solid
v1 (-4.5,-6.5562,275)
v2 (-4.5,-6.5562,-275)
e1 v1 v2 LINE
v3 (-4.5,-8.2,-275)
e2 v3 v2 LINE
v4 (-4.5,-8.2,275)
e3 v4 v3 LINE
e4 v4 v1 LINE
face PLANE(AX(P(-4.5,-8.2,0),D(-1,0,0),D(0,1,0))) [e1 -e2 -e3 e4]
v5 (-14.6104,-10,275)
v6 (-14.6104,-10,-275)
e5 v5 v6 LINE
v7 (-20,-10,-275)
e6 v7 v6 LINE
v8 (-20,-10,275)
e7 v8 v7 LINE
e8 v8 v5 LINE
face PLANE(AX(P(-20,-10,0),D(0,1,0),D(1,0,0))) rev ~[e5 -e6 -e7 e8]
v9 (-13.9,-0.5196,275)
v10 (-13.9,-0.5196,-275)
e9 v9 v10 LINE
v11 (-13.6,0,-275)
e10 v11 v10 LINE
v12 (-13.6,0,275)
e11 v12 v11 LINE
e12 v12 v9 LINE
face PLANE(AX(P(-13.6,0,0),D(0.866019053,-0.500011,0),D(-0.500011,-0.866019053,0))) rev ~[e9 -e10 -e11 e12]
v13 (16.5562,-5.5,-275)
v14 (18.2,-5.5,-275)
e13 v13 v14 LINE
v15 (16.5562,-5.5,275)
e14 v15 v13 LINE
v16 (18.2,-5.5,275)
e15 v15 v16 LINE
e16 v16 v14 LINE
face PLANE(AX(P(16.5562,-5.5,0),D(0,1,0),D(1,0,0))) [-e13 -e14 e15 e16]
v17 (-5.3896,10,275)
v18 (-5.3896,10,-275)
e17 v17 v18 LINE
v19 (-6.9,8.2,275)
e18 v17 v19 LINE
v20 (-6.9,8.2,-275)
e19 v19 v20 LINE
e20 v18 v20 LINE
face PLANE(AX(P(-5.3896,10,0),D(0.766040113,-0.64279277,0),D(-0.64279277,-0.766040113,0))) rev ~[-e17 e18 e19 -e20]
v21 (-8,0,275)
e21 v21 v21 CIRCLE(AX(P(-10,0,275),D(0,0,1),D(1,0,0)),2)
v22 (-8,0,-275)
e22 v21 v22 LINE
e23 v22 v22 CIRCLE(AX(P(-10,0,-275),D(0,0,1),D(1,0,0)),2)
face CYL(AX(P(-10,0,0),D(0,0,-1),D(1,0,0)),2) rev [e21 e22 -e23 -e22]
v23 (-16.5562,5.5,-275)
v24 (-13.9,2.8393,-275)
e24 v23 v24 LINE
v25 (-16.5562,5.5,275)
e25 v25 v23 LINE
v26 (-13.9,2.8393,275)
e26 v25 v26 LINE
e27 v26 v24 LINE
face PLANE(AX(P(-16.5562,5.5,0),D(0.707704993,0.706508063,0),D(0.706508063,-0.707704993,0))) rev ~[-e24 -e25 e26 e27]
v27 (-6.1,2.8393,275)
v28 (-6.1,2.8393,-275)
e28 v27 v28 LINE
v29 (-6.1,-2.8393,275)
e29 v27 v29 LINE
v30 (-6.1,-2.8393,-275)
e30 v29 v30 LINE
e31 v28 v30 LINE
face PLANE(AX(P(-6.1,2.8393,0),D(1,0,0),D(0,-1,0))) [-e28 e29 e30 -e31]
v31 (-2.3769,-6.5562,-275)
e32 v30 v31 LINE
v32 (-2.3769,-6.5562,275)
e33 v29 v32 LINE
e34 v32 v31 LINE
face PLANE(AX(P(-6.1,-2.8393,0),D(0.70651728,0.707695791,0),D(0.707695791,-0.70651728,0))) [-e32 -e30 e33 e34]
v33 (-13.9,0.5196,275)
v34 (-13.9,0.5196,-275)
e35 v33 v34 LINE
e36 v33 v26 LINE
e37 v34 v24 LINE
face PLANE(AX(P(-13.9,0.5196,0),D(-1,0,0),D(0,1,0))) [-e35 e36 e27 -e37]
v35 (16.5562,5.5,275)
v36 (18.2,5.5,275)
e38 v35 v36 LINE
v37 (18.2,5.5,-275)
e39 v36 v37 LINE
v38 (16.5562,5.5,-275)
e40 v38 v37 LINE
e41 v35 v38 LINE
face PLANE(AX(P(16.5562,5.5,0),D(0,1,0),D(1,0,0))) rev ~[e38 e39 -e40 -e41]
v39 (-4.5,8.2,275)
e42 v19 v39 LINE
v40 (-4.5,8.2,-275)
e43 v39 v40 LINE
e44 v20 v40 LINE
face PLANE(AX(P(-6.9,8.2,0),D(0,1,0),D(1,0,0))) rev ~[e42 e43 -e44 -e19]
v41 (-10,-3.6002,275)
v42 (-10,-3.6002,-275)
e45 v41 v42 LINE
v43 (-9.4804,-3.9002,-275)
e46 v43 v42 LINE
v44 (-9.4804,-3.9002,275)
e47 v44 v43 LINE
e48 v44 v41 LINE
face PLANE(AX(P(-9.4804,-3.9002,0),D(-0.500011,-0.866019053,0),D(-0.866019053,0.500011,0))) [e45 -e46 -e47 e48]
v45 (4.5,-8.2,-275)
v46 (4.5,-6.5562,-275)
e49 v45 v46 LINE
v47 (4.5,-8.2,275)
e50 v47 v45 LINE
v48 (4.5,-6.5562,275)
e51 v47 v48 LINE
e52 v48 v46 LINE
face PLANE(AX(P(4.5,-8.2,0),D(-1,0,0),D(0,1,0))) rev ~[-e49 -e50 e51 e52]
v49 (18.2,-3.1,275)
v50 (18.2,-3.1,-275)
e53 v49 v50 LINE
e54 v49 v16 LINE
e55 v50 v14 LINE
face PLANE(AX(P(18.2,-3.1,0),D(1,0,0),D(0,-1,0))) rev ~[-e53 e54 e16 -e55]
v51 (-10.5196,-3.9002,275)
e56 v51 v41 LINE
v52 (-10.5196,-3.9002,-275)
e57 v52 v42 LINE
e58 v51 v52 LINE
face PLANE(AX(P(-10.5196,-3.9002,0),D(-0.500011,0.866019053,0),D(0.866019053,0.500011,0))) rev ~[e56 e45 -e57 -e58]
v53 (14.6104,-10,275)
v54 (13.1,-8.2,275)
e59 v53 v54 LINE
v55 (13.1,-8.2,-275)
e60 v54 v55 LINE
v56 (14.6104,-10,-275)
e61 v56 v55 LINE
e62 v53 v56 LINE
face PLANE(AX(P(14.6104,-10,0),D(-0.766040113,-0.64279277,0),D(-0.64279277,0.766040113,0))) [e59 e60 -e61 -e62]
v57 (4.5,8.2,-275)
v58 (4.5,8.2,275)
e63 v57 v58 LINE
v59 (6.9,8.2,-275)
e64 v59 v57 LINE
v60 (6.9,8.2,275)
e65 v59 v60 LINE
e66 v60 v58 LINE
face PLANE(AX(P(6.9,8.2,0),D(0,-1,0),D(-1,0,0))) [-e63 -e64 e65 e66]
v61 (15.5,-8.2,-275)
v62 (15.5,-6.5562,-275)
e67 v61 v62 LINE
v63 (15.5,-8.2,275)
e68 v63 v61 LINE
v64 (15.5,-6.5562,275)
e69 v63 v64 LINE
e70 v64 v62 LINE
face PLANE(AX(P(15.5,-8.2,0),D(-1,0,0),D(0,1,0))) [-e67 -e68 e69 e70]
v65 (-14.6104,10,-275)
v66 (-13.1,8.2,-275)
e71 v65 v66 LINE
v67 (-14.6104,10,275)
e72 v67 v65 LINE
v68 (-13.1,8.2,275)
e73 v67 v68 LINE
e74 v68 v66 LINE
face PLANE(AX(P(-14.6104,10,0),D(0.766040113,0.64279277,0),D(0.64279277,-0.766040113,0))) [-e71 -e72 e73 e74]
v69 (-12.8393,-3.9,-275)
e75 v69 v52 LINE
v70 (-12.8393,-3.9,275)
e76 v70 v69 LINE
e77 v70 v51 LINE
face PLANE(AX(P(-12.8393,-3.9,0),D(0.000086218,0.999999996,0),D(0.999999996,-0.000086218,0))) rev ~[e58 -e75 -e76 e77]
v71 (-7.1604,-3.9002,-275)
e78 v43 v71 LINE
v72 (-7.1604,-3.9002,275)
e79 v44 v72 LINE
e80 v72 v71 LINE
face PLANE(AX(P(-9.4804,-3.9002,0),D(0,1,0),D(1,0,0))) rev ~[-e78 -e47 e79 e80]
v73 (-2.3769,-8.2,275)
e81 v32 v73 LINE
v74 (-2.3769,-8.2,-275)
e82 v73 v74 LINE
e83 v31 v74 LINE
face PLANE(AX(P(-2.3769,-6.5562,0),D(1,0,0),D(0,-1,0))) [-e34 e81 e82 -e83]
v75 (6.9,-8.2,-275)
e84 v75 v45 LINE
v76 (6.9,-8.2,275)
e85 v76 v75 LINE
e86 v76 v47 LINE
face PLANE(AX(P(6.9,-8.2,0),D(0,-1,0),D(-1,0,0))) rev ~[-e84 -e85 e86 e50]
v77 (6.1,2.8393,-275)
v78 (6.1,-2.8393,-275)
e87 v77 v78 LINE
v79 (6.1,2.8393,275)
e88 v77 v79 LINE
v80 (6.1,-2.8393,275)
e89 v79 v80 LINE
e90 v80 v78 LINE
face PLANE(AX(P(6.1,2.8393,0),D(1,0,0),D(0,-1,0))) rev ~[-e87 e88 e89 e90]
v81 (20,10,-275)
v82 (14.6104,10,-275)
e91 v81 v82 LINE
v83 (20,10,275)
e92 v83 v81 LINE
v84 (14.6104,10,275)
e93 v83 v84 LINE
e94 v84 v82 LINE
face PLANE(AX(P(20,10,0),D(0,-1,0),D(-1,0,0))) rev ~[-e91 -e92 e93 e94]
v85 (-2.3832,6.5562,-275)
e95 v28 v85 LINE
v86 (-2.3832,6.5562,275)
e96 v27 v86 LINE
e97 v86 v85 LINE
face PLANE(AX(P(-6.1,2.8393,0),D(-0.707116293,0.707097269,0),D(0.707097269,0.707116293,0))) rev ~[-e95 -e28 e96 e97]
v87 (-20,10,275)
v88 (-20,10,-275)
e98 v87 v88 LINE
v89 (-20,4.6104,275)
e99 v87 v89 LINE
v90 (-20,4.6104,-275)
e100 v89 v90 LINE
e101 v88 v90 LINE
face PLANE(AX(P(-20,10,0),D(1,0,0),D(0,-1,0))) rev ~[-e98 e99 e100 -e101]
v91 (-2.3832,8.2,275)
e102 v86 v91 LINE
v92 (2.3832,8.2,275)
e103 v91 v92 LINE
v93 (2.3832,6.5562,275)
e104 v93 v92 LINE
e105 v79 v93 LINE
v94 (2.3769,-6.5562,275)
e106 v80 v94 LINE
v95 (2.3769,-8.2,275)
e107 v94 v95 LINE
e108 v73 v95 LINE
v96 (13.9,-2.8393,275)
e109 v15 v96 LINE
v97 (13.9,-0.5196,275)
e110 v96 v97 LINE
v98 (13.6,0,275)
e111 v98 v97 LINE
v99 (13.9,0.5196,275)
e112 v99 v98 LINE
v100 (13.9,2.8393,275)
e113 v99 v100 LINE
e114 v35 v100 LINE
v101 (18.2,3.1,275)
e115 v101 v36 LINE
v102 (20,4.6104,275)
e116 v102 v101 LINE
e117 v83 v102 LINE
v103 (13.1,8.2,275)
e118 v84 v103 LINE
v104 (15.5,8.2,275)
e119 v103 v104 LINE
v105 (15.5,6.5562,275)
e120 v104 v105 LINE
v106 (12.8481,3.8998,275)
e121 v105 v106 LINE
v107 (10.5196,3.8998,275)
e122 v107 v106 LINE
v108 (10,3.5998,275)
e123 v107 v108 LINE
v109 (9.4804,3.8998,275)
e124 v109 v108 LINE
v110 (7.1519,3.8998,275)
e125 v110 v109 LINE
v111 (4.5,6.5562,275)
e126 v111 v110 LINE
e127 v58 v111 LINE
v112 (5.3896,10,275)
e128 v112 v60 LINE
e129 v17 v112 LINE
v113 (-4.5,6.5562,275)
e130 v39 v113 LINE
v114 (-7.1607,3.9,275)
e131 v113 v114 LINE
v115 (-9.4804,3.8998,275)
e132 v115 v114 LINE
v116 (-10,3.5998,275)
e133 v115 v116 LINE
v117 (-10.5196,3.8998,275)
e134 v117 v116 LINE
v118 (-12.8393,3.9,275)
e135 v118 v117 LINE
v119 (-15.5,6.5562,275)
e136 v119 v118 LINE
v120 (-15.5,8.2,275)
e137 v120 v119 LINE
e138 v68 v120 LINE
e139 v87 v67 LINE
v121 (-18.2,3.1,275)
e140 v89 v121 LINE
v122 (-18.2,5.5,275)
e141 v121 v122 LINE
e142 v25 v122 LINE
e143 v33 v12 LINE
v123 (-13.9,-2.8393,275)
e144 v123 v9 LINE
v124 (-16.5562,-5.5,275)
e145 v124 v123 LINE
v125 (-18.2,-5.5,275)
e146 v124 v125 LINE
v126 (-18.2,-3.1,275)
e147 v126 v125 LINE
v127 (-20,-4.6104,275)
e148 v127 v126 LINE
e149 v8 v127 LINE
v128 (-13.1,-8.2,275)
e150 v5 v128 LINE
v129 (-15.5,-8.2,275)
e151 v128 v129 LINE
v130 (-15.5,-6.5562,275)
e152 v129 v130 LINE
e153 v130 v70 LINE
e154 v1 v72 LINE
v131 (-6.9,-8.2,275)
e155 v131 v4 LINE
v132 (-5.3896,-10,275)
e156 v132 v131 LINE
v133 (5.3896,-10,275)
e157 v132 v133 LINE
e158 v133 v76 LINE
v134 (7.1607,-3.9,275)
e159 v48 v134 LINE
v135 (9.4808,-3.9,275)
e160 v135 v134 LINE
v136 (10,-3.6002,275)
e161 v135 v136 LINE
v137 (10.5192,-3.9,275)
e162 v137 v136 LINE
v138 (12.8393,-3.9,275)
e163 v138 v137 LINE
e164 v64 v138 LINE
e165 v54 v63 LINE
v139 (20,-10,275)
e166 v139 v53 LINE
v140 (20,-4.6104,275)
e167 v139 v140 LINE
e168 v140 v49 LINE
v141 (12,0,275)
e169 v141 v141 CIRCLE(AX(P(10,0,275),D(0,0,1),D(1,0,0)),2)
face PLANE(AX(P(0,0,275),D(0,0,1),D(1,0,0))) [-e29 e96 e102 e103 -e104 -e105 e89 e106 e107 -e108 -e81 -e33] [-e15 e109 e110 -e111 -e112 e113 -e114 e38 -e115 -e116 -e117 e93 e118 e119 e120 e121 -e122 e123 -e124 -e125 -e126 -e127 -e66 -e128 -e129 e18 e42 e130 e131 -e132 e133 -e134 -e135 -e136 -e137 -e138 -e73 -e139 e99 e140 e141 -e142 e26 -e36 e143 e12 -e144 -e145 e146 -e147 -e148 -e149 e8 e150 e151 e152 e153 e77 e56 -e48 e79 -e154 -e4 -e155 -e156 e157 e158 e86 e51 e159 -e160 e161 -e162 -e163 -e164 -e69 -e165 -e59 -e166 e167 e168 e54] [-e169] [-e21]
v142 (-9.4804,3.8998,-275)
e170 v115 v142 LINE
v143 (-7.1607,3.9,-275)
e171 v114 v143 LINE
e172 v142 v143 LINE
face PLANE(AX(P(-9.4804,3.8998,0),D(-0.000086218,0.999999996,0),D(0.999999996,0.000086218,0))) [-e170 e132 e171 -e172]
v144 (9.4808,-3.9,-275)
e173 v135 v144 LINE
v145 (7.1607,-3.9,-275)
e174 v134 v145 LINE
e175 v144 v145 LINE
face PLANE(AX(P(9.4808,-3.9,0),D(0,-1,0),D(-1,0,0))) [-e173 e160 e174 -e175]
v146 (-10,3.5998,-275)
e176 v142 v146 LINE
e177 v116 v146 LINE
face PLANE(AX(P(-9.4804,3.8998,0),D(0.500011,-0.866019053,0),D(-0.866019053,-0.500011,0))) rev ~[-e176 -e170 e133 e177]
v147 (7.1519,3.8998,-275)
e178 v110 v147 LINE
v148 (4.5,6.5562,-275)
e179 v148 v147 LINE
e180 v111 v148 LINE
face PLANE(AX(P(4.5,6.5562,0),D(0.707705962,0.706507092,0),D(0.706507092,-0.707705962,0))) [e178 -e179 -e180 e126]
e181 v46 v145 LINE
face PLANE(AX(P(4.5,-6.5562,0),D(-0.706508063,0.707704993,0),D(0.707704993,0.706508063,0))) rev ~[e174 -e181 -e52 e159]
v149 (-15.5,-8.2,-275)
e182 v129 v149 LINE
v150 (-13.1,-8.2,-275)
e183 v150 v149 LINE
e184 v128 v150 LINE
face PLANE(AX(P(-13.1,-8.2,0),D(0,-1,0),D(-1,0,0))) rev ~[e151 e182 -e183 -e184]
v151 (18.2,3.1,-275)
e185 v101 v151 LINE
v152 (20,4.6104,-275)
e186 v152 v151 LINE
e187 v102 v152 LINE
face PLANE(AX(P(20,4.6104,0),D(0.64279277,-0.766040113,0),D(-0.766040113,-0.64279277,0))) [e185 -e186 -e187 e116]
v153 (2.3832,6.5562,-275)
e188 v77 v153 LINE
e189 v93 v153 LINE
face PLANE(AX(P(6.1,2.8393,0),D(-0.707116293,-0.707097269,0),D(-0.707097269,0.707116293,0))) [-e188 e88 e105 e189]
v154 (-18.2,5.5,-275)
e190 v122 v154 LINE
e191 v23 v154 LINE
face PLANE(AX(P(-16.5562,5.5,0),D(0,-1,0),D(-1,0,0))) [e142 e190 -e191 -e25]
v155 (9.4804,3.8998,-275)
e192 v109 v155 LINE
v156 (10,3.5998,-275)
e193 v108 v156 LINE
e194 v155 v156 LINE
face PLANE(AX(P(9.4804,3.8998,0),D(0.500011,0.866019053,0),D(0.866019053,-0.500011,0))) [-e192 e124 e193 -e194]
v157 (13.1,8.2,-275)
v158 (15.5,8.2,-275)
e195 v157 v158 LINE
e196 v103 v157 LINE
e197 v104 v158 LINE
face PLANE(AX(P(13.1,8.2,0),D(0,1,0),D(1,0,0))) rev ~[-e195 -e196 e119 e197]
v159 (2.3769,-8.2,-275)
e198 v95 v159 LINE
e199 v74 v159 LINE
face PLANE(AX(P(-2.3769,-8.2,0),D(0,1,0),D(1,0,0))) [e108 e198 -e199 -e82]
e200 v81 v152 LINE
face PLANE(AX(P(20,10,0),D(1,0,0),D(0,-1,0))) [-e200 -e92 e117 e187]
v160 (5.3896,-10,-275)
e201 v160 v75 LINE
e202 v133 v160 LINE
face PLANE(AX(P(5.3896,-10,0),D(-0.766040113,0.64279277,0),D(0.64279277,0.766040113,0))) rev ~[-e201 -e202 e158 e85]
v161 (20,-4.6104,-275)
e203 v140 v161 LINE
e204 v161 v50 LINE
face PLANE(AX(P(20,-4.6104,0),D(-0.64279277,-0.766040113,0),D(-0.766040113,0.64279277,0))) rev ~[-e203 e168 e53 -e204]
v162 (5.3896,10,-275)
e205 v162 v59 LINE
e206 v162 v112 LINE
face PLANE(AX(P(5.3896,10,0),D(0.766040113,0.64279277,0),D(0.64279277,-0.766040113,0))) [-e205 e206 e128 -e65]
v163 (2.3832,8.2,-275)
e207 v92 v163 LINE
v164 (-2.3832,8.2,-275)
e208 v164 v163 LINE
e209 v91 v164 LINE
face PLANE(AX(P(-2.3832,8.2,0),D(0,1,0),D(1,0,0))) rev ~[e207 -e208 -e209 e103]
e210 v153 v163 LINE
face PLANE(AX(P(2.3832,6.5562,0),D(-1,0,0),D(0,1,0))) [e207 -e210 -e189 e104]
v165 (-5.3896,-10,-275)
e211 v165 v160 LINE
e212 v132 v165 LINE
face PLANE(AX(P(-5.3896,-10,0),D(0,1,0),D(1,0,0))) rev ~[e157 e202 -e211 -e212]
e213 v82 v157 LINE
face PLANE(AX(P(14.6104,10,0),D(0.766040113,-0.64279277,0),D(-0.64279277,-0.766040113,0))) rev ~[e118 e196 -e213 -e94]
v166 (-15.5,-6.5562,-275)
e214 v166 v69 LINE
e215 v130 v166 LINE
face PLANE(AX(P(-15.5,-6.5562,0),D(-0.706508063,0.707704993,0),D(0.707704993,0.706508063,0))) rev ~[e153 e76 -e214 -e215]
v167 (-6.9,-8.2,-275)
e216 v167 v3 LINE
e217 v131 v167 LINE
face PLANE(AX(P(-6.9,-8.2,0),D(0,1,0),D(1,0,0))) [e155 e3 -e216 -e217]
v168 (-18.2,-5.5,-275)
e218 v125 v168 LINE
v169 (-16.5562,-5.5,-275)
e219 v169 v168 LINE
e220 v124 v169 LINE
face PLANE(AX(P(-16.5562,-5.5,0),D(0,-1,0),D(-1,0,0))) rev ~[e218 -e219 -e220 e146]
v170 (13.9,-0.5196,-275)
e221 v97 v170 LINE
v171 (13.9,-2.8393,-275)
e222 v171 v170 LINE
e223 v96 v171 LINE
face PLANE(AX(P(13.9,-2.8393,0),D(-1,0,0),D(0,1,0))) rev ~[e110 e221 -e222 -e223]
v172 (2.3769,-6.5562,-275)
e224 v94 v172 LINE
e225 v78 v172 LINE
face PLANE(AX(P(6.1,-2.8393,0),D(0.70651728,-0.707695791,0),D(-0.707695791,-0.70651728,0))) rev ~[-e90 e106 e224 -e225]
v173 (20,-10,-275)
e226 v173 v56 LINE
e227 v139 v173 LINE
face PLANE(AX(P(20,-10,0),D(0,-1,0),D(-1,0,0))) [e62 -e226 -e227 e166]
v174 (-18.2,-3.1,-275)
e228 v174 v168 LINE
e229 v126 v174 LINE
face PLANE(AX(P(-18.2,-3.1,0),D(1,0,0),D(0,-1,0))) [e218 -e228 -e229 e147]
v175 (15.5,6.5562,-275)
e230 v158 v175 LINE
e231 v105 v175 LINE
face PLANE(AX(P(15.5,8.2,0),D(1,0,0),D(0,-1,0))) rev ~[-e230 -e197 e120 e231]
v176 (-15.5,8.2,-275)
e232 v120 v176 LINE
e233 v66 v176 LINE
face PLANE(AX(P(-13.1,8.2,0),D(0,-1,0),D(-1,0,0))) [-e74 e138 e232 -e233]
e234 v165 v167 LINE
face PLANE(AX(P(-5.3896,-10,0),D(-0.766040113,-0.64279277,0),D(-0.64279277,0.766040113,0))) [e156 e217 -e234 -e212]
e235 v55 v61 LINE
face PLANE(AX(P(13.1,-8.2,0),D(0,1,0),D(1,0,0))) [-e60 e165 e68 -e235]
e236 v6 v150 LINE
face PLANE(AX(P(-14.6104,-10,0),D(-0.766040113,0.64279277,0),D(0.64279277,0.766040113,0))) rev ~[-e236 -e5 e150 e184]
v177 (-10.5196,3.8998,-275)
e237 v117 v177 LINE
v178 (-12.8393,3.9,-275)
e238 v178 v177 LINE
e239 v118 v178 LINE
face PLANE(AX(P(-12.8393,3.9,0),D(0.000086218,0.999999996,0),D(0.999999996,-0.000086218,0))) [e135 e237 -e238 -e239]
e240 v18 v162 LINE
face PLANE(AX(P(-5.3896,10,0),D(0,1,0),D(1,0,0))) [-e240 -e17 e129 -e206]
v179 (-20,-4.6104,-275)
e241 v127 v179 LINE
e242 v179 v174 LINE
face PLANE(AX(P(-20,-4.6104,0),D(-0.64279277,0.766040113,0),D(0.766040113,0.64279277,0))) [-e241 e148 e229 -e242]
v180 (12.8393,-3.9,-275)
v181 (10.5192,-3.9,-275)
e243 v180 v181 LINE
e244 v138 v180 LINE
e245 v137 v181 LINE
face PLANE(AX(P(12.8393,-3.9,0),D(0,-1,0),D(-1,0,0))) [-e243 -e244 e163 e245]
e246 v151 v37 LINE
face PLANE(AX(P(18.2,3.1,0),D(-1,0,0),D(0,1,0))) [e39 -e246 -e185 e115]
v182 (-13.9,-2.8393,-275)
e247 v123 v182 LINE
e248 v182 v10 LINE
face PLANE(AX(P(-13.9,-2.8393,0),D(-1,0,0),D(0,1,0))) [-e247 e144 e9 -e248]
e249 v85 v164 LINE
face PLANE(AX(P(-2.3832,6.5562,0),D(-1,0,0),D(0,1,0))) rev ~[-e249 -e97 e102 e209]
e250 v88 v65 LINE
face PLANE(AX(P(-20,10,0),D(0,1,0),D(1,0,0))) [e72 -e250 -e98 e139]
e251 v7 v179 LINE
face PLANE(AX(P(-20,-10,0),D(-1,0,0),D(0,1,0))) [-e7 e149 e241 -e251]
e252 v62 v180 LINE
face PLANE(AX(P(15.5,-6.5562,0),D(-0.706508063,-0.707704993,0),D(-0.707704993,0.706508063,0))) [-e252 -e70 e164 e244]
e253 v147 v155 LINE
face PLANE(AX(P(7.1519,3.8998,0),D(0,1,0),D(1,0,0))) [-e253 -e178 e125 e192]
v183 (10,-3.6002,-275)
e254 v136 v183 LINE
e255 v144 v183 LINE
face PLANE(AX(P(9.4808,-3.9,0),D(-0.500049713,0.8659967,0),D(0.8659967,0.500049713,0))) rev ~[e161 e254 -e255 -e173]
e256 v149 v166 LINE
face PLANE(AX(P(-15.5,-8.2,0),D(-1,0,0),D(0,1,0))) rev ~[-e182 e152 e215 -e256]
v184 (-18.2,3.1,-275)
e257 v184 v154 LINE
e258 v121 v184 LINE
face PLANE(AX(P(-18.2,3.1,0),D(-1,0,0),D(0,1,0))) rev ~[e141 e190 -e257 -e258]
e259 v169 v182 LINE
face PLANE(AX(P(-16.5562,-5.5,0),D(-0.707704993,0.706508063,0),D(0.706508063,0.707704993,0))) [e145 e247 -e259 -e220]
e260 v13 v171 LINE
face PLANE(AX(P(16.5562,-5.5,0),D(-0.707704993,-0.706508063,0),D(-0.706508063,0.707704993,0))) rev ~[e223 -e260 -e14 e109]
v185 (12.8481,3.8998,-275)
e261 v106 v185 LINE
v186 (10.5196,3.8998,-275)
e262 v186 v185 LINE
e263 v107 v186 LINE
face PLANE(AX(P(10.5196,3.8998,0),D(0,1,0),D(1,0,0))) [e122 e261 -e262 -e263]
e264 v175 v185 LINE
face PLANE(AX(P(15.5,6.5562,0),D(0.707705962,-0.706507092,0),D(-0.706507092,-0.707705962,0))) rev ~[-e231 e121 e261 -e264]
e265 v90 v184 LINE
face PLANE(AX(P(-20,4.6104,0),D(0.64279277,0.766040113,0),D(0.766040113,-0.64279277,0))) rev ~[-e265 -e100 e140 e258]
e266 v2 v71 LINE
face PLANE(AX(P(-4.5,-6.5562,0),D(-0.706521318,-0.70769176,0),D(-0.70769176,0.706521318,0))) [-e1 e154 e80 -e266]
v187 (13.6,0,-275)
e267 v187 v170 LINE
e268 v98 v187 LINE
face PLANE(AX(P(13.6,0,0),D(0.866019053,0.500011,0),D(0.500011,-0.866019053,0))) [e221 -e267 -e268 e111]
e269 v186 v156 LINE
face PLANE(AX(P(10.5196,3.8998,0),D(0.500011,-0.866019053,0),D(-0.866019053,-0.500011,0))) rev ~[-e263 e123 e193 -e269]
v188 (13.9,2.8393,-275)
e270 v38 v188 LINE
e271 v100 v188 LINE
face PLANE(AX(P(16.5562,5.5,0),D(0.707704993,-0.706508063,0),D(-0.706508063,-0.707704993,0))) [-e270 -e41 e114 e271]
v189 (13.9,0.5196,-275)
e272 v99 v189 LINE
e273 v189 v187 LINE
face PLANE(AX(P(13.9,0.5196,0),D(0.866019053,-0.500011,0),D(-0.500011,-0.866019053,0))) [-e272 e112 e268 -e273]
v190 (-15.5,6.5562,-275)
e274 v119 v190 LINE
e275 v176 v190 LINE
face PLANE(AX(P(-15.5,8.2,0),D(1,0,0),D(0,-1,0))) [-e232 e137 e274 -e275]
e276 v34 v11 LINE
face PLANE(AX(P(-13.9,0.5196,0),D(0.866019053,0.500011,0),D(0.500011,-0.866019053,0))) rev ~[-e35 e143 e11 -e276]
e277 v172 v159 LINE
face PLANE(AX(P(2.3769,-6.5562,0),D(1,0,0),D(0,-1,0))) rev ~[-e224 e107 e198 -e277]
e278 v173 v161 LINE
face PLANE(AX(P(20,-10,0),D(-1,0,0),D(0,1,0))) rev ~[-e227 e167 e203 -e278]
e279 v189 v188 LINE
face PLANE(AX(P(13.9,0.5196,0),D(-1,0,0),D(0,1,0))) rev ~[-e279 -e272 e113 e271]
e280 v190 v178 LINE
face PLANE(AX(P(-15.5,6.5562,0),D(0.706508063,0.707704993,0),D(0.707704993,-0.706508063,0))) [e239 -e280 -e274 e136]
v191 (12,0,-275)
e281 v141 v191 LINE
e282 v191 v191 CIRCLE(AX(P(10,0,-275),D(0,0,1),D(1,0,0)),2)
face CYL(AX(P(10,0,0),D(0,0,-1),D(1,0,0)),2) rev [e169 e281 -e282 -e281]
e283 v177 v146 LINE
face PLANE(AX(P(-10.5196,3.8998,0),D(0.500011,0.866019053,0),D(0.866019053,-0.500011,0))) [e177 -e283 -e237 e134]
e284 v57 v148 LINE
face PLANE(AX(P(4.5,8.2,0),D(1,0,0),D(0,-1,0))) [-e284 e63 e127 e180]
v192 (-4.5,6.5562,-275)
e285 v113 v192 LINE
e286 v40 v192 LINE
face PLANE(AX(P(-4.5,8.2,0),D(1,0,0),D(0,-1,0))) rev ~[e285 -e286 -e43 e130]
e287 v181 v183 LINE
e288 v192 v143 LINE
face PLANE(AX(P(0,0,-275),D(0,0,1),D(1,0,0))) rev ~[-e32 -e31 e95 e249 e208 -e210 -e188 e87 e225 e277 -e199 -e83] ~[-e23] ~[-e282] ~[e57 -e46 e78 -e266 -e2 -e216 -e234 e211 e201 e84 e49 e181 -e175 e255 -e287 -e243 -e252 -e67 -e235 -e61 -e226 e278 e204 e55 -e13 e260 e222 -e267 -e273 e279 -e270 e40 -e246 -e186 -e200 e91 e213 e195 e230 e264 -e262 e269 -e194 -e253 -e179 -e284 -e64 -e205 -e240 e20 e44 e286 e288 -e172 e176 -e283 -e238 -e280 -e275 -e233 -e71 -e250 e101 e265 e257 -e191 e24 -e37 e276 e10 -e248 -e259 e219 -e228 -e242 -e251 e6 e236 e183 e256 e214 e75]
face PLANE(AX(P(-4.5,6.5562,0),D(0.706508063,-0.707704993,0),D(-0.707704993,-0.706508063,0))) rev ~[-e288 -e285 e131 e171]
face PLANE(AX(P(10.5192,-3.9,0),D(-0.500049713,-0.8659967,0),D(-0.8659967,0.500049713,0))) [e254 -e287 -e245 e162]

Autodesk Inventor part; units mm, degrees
ref_plane "YZ Plane" through (0, 0, 0) normal (1, 0, 0) x (0, 1, 0)
ref_plane "XZ Plane" through (0, 0, 0) normal (0, 1, 0) x (-1, 0, 0)
ref_plane "XY Plane" through (0, 0, 0) normal (0, 0, 1) x (1, 0, 0)
sketch "Sketch1" plane through (0, 0, 0) normal (0, 0, 1) x (1, 0, 0)
  line L0 (4.5, 8.2) -> (4.5, 6.5562)
  line L1 (6.9, 8.2) -> (4.5, 8.2)
  line L2 (5.3896, 10) -> (6.9, 8.2)
  line L3 (-5.3896, 10) -> (5.3896, 10)
  line L4 (-5.3896, 10) -> (-6.9, 8.2)
  line L5 (-6.9, 8.2) -> (-4.5, 8.2)
  line L6 (-4.5, 8.2) -> (-4.5, 6.5562)
  line L7 (-4.5, 6.5562) -> (-7.1607, 3.9)
  line L8 (-9.4804, 3.8998) -> (-7.1607, 3.9)
  line L9 (-9.4804, 3.8998) -> (-10, 3.5998)
  line L10 (-10.5196, 3.8998) -> (-10, 3.5998)
  line L11 (-12.8393, 3.9) -> (-10.5196, 3.8998)
  line L12 (-15.5, 6.5562) -> (-12.8393, 3.9)
  line L13 (-15.5, 8.2) -> (-15.5, 6.5562)
  line L14 (-13.1, 8.2) -> (-15.5, 8.2)
  line L15 (-14.6104, 10) -> (-13.1, 8.2)
  line L16 (-20, 10) -> (-14.6104, 10)
  line L17 (-20, 10) -> (-20, 4.6104)
  line L18 (-20, 4.6104) -> (-18.2, 3.1)
  line L19 (-18.2, 3.1) -> (-18.2, 5.5)
  line L20 (-16.5562, 5.5) -> (-18.2, 5.5)
  line L21 (-16.5562, 5.5) -> (-13.9, 2.8393)
  line L22 (-13.9, 0.5196) -> (-13.9, 2.8393)
  line L23 (-13.9, 0.5196) -> (-13.6, 0)
  line L24 (-13.6, 0) -> (-13.9, -0.5196)
  line L25 (-13.9, -2.8393) -> (-13.9, -0.5196)
  line L26 (-16.5562, -5.5) -> (-13.9, -2.8393)
  line L27 (-16.5562, -5.5) -> (-18.2, -5.5)
  line L28 (-18.2, -3.1) -> (-18.2, -5.5)
  line L29 (-20, -4.6104) -> (-18.2, -3.1)
  line L30 (-20, -10) -> (-20, -4.6104)
  line L31 (-20, -10) -> (-14.6104, -10)
  line L32 (-14.6104, -10) -> (-13.1, -8.2)
  line L33 (-13.1, -8.2) -> (-15.5, -8.2)
  line L34 (-15.5, -8.2) -> (-15.5, -6.5562)
  line L35 (-15.5, -6.5562) -> (-12.8393, -3.9)
  line L36 (-12.8393, -3.9) -> (-10.5196, -3.9002)
  line L37 (-10.5196, -3.9002) -> (-10, -3.6002)
  line L38 (-9.4804, -3.9002) -> (-10, -3.6002)
  line L39 (-9.4804, -3.9002) -> (-7.1604, -3.9002)
  line L40 (-4.5, -6.5562) -> (-7.1604, -3.9002)
  line L41 (-4.5, -8.2) -> (-4.5, -6.5562)
  line L42 (-6.9, -8.2) -> (-4.5, -8.2)
  line L43 (-5.3896, -10) -> (-6.9, -8.2)
  line L44 (-5.3896, -10) -> (5.3896, -10)
  line L45 (5.3896, -10) -> (6.9, -8.2)
  line L46 (6.9, -8.2) -> (4.5, -8.2)
  line L47 (4.5, -8.2) -> (4.5, -6.5562)
  line L48 (4.5, -6.5562) -> (7.1607, -3.9)
  line L49 (9.4808, -3.9) -> (7.1607, -3.9)
  line L50 (9.4808, -3.9) -> (10, -3.6002)
  line L51 (10.5192, -3.9) -> (10, -3.6002)
  line L52 (12.8393, -3.9) -> (10.5192, -3.9)
  line L53 (15.5, -6.5562) -> (12.8393, -3.9)
  line L54 (15.5, -8.2) -> (15.5, -6.5562)
  line L55 (13.1, -8.2) -> (15.5, -8.2)
  line L56 (14.6104, -10) -> (13.1, -8.2)
  line L57 (20, -10) -> (14.6104, -10)
  line L58 (20, -10) -> (20, -4.6104)
  line L59 (20, -4.6104) -> (18.2, -3.1)
  line L60 (18.2, -3.1) -> (18.2, -5.5)
  line L61 (16.5562, -5.5) -> (18.2, -5.5)
  line L62 (16.5562, -5.5) -> (13.9, -2.8393)
  line L63 (13.9, -2.8393) -> (13.9, -0.5196)
  line L64 (13.6, 0) -> (13.9, -0.5196)
  line L65 (13.9, 0.5196) -> (13.6, 0)
  line L66 (13.9, 0.5196) -> (13.9, 2.8393)
  line L67 (16.5562, 5.5) -> (13.9, 2.8393)
  line L68 (16.5562, 5.5) -> (18.2, 5.5)
  line L69 (18.2, 3.1) -> (18.2, 5.5)
  line L70 (20, 4.6104) -> (18.2, 3.1)
  line L71 (20, 10) -> (20, 4.6104)
  line L72 (20, 10) -> (14.6104, 10)
  line L73 (14.6104, 10) -> (13.1, 8.2)
  line L74 (13.1, 8.2) -> (15.5, 8.2)
  line L75 (15.5, 8.2) -> (15.5, 6.5562)
  line L76 (15.5, 6.5562) -> (12.8481, 3.8998)
  line L77 (10.5196, 3.8998) -> (12.8481, 3.8998)
  line L78 (10.5196, 3.8998) -> (10, 3.5998)
  line L79 (9.4804, 3.8998) -> (10, 3.5998)
  line L80 (7.1519, 3.8998) -> (9.4804, 3.8998)
  line L81 (4.5, 6.5562) -> (7.1519, 3.8998)
  circle A0 centre (-10, 0) radius 2
  circle A1 centre (10, 0) radius 2
  line L82 (6.1, 2.8393) -> (2.3832, 6.5562)
  line L83 (6.1, 2.8393) -> (6.1, -2.8393)
  line L84 (6.1, -2.8393) -> (2.3769, -6.5562)
  line L85 (2.3769, -6.5562) -> (2.3769, -8.2)
  line L86 (-2.3769, -8.2) -> (2.3769, -8.2)
  line L87 (-2.3769, -6.5562) -> (-2.3769, -8.2)
  line L88 (-6.1, -2.8393) -> (-2.3769, -6.5562)
  line L89 (-6.1, 2.8393) -> (-6.1, -2.8393)
  line L90 (-6.1, 2.8393) -> (-2.3832, 6.5562)
  line L91 (-2.3832, 6.5562) -> (-2.3832, 8.2)
  line L92 (-2.3832, 8.2) -> (2.3832, 8.2)
  line L93 (2.3832, 6.5562) -> (2.3832, 8.2)
  point P0 (0, 0)
  point P1 (0, 0)
extrude "Extrusion1" add sketch "Sketch1" along normal mid plane 550
properties part number "vslot_2040_560mm"
